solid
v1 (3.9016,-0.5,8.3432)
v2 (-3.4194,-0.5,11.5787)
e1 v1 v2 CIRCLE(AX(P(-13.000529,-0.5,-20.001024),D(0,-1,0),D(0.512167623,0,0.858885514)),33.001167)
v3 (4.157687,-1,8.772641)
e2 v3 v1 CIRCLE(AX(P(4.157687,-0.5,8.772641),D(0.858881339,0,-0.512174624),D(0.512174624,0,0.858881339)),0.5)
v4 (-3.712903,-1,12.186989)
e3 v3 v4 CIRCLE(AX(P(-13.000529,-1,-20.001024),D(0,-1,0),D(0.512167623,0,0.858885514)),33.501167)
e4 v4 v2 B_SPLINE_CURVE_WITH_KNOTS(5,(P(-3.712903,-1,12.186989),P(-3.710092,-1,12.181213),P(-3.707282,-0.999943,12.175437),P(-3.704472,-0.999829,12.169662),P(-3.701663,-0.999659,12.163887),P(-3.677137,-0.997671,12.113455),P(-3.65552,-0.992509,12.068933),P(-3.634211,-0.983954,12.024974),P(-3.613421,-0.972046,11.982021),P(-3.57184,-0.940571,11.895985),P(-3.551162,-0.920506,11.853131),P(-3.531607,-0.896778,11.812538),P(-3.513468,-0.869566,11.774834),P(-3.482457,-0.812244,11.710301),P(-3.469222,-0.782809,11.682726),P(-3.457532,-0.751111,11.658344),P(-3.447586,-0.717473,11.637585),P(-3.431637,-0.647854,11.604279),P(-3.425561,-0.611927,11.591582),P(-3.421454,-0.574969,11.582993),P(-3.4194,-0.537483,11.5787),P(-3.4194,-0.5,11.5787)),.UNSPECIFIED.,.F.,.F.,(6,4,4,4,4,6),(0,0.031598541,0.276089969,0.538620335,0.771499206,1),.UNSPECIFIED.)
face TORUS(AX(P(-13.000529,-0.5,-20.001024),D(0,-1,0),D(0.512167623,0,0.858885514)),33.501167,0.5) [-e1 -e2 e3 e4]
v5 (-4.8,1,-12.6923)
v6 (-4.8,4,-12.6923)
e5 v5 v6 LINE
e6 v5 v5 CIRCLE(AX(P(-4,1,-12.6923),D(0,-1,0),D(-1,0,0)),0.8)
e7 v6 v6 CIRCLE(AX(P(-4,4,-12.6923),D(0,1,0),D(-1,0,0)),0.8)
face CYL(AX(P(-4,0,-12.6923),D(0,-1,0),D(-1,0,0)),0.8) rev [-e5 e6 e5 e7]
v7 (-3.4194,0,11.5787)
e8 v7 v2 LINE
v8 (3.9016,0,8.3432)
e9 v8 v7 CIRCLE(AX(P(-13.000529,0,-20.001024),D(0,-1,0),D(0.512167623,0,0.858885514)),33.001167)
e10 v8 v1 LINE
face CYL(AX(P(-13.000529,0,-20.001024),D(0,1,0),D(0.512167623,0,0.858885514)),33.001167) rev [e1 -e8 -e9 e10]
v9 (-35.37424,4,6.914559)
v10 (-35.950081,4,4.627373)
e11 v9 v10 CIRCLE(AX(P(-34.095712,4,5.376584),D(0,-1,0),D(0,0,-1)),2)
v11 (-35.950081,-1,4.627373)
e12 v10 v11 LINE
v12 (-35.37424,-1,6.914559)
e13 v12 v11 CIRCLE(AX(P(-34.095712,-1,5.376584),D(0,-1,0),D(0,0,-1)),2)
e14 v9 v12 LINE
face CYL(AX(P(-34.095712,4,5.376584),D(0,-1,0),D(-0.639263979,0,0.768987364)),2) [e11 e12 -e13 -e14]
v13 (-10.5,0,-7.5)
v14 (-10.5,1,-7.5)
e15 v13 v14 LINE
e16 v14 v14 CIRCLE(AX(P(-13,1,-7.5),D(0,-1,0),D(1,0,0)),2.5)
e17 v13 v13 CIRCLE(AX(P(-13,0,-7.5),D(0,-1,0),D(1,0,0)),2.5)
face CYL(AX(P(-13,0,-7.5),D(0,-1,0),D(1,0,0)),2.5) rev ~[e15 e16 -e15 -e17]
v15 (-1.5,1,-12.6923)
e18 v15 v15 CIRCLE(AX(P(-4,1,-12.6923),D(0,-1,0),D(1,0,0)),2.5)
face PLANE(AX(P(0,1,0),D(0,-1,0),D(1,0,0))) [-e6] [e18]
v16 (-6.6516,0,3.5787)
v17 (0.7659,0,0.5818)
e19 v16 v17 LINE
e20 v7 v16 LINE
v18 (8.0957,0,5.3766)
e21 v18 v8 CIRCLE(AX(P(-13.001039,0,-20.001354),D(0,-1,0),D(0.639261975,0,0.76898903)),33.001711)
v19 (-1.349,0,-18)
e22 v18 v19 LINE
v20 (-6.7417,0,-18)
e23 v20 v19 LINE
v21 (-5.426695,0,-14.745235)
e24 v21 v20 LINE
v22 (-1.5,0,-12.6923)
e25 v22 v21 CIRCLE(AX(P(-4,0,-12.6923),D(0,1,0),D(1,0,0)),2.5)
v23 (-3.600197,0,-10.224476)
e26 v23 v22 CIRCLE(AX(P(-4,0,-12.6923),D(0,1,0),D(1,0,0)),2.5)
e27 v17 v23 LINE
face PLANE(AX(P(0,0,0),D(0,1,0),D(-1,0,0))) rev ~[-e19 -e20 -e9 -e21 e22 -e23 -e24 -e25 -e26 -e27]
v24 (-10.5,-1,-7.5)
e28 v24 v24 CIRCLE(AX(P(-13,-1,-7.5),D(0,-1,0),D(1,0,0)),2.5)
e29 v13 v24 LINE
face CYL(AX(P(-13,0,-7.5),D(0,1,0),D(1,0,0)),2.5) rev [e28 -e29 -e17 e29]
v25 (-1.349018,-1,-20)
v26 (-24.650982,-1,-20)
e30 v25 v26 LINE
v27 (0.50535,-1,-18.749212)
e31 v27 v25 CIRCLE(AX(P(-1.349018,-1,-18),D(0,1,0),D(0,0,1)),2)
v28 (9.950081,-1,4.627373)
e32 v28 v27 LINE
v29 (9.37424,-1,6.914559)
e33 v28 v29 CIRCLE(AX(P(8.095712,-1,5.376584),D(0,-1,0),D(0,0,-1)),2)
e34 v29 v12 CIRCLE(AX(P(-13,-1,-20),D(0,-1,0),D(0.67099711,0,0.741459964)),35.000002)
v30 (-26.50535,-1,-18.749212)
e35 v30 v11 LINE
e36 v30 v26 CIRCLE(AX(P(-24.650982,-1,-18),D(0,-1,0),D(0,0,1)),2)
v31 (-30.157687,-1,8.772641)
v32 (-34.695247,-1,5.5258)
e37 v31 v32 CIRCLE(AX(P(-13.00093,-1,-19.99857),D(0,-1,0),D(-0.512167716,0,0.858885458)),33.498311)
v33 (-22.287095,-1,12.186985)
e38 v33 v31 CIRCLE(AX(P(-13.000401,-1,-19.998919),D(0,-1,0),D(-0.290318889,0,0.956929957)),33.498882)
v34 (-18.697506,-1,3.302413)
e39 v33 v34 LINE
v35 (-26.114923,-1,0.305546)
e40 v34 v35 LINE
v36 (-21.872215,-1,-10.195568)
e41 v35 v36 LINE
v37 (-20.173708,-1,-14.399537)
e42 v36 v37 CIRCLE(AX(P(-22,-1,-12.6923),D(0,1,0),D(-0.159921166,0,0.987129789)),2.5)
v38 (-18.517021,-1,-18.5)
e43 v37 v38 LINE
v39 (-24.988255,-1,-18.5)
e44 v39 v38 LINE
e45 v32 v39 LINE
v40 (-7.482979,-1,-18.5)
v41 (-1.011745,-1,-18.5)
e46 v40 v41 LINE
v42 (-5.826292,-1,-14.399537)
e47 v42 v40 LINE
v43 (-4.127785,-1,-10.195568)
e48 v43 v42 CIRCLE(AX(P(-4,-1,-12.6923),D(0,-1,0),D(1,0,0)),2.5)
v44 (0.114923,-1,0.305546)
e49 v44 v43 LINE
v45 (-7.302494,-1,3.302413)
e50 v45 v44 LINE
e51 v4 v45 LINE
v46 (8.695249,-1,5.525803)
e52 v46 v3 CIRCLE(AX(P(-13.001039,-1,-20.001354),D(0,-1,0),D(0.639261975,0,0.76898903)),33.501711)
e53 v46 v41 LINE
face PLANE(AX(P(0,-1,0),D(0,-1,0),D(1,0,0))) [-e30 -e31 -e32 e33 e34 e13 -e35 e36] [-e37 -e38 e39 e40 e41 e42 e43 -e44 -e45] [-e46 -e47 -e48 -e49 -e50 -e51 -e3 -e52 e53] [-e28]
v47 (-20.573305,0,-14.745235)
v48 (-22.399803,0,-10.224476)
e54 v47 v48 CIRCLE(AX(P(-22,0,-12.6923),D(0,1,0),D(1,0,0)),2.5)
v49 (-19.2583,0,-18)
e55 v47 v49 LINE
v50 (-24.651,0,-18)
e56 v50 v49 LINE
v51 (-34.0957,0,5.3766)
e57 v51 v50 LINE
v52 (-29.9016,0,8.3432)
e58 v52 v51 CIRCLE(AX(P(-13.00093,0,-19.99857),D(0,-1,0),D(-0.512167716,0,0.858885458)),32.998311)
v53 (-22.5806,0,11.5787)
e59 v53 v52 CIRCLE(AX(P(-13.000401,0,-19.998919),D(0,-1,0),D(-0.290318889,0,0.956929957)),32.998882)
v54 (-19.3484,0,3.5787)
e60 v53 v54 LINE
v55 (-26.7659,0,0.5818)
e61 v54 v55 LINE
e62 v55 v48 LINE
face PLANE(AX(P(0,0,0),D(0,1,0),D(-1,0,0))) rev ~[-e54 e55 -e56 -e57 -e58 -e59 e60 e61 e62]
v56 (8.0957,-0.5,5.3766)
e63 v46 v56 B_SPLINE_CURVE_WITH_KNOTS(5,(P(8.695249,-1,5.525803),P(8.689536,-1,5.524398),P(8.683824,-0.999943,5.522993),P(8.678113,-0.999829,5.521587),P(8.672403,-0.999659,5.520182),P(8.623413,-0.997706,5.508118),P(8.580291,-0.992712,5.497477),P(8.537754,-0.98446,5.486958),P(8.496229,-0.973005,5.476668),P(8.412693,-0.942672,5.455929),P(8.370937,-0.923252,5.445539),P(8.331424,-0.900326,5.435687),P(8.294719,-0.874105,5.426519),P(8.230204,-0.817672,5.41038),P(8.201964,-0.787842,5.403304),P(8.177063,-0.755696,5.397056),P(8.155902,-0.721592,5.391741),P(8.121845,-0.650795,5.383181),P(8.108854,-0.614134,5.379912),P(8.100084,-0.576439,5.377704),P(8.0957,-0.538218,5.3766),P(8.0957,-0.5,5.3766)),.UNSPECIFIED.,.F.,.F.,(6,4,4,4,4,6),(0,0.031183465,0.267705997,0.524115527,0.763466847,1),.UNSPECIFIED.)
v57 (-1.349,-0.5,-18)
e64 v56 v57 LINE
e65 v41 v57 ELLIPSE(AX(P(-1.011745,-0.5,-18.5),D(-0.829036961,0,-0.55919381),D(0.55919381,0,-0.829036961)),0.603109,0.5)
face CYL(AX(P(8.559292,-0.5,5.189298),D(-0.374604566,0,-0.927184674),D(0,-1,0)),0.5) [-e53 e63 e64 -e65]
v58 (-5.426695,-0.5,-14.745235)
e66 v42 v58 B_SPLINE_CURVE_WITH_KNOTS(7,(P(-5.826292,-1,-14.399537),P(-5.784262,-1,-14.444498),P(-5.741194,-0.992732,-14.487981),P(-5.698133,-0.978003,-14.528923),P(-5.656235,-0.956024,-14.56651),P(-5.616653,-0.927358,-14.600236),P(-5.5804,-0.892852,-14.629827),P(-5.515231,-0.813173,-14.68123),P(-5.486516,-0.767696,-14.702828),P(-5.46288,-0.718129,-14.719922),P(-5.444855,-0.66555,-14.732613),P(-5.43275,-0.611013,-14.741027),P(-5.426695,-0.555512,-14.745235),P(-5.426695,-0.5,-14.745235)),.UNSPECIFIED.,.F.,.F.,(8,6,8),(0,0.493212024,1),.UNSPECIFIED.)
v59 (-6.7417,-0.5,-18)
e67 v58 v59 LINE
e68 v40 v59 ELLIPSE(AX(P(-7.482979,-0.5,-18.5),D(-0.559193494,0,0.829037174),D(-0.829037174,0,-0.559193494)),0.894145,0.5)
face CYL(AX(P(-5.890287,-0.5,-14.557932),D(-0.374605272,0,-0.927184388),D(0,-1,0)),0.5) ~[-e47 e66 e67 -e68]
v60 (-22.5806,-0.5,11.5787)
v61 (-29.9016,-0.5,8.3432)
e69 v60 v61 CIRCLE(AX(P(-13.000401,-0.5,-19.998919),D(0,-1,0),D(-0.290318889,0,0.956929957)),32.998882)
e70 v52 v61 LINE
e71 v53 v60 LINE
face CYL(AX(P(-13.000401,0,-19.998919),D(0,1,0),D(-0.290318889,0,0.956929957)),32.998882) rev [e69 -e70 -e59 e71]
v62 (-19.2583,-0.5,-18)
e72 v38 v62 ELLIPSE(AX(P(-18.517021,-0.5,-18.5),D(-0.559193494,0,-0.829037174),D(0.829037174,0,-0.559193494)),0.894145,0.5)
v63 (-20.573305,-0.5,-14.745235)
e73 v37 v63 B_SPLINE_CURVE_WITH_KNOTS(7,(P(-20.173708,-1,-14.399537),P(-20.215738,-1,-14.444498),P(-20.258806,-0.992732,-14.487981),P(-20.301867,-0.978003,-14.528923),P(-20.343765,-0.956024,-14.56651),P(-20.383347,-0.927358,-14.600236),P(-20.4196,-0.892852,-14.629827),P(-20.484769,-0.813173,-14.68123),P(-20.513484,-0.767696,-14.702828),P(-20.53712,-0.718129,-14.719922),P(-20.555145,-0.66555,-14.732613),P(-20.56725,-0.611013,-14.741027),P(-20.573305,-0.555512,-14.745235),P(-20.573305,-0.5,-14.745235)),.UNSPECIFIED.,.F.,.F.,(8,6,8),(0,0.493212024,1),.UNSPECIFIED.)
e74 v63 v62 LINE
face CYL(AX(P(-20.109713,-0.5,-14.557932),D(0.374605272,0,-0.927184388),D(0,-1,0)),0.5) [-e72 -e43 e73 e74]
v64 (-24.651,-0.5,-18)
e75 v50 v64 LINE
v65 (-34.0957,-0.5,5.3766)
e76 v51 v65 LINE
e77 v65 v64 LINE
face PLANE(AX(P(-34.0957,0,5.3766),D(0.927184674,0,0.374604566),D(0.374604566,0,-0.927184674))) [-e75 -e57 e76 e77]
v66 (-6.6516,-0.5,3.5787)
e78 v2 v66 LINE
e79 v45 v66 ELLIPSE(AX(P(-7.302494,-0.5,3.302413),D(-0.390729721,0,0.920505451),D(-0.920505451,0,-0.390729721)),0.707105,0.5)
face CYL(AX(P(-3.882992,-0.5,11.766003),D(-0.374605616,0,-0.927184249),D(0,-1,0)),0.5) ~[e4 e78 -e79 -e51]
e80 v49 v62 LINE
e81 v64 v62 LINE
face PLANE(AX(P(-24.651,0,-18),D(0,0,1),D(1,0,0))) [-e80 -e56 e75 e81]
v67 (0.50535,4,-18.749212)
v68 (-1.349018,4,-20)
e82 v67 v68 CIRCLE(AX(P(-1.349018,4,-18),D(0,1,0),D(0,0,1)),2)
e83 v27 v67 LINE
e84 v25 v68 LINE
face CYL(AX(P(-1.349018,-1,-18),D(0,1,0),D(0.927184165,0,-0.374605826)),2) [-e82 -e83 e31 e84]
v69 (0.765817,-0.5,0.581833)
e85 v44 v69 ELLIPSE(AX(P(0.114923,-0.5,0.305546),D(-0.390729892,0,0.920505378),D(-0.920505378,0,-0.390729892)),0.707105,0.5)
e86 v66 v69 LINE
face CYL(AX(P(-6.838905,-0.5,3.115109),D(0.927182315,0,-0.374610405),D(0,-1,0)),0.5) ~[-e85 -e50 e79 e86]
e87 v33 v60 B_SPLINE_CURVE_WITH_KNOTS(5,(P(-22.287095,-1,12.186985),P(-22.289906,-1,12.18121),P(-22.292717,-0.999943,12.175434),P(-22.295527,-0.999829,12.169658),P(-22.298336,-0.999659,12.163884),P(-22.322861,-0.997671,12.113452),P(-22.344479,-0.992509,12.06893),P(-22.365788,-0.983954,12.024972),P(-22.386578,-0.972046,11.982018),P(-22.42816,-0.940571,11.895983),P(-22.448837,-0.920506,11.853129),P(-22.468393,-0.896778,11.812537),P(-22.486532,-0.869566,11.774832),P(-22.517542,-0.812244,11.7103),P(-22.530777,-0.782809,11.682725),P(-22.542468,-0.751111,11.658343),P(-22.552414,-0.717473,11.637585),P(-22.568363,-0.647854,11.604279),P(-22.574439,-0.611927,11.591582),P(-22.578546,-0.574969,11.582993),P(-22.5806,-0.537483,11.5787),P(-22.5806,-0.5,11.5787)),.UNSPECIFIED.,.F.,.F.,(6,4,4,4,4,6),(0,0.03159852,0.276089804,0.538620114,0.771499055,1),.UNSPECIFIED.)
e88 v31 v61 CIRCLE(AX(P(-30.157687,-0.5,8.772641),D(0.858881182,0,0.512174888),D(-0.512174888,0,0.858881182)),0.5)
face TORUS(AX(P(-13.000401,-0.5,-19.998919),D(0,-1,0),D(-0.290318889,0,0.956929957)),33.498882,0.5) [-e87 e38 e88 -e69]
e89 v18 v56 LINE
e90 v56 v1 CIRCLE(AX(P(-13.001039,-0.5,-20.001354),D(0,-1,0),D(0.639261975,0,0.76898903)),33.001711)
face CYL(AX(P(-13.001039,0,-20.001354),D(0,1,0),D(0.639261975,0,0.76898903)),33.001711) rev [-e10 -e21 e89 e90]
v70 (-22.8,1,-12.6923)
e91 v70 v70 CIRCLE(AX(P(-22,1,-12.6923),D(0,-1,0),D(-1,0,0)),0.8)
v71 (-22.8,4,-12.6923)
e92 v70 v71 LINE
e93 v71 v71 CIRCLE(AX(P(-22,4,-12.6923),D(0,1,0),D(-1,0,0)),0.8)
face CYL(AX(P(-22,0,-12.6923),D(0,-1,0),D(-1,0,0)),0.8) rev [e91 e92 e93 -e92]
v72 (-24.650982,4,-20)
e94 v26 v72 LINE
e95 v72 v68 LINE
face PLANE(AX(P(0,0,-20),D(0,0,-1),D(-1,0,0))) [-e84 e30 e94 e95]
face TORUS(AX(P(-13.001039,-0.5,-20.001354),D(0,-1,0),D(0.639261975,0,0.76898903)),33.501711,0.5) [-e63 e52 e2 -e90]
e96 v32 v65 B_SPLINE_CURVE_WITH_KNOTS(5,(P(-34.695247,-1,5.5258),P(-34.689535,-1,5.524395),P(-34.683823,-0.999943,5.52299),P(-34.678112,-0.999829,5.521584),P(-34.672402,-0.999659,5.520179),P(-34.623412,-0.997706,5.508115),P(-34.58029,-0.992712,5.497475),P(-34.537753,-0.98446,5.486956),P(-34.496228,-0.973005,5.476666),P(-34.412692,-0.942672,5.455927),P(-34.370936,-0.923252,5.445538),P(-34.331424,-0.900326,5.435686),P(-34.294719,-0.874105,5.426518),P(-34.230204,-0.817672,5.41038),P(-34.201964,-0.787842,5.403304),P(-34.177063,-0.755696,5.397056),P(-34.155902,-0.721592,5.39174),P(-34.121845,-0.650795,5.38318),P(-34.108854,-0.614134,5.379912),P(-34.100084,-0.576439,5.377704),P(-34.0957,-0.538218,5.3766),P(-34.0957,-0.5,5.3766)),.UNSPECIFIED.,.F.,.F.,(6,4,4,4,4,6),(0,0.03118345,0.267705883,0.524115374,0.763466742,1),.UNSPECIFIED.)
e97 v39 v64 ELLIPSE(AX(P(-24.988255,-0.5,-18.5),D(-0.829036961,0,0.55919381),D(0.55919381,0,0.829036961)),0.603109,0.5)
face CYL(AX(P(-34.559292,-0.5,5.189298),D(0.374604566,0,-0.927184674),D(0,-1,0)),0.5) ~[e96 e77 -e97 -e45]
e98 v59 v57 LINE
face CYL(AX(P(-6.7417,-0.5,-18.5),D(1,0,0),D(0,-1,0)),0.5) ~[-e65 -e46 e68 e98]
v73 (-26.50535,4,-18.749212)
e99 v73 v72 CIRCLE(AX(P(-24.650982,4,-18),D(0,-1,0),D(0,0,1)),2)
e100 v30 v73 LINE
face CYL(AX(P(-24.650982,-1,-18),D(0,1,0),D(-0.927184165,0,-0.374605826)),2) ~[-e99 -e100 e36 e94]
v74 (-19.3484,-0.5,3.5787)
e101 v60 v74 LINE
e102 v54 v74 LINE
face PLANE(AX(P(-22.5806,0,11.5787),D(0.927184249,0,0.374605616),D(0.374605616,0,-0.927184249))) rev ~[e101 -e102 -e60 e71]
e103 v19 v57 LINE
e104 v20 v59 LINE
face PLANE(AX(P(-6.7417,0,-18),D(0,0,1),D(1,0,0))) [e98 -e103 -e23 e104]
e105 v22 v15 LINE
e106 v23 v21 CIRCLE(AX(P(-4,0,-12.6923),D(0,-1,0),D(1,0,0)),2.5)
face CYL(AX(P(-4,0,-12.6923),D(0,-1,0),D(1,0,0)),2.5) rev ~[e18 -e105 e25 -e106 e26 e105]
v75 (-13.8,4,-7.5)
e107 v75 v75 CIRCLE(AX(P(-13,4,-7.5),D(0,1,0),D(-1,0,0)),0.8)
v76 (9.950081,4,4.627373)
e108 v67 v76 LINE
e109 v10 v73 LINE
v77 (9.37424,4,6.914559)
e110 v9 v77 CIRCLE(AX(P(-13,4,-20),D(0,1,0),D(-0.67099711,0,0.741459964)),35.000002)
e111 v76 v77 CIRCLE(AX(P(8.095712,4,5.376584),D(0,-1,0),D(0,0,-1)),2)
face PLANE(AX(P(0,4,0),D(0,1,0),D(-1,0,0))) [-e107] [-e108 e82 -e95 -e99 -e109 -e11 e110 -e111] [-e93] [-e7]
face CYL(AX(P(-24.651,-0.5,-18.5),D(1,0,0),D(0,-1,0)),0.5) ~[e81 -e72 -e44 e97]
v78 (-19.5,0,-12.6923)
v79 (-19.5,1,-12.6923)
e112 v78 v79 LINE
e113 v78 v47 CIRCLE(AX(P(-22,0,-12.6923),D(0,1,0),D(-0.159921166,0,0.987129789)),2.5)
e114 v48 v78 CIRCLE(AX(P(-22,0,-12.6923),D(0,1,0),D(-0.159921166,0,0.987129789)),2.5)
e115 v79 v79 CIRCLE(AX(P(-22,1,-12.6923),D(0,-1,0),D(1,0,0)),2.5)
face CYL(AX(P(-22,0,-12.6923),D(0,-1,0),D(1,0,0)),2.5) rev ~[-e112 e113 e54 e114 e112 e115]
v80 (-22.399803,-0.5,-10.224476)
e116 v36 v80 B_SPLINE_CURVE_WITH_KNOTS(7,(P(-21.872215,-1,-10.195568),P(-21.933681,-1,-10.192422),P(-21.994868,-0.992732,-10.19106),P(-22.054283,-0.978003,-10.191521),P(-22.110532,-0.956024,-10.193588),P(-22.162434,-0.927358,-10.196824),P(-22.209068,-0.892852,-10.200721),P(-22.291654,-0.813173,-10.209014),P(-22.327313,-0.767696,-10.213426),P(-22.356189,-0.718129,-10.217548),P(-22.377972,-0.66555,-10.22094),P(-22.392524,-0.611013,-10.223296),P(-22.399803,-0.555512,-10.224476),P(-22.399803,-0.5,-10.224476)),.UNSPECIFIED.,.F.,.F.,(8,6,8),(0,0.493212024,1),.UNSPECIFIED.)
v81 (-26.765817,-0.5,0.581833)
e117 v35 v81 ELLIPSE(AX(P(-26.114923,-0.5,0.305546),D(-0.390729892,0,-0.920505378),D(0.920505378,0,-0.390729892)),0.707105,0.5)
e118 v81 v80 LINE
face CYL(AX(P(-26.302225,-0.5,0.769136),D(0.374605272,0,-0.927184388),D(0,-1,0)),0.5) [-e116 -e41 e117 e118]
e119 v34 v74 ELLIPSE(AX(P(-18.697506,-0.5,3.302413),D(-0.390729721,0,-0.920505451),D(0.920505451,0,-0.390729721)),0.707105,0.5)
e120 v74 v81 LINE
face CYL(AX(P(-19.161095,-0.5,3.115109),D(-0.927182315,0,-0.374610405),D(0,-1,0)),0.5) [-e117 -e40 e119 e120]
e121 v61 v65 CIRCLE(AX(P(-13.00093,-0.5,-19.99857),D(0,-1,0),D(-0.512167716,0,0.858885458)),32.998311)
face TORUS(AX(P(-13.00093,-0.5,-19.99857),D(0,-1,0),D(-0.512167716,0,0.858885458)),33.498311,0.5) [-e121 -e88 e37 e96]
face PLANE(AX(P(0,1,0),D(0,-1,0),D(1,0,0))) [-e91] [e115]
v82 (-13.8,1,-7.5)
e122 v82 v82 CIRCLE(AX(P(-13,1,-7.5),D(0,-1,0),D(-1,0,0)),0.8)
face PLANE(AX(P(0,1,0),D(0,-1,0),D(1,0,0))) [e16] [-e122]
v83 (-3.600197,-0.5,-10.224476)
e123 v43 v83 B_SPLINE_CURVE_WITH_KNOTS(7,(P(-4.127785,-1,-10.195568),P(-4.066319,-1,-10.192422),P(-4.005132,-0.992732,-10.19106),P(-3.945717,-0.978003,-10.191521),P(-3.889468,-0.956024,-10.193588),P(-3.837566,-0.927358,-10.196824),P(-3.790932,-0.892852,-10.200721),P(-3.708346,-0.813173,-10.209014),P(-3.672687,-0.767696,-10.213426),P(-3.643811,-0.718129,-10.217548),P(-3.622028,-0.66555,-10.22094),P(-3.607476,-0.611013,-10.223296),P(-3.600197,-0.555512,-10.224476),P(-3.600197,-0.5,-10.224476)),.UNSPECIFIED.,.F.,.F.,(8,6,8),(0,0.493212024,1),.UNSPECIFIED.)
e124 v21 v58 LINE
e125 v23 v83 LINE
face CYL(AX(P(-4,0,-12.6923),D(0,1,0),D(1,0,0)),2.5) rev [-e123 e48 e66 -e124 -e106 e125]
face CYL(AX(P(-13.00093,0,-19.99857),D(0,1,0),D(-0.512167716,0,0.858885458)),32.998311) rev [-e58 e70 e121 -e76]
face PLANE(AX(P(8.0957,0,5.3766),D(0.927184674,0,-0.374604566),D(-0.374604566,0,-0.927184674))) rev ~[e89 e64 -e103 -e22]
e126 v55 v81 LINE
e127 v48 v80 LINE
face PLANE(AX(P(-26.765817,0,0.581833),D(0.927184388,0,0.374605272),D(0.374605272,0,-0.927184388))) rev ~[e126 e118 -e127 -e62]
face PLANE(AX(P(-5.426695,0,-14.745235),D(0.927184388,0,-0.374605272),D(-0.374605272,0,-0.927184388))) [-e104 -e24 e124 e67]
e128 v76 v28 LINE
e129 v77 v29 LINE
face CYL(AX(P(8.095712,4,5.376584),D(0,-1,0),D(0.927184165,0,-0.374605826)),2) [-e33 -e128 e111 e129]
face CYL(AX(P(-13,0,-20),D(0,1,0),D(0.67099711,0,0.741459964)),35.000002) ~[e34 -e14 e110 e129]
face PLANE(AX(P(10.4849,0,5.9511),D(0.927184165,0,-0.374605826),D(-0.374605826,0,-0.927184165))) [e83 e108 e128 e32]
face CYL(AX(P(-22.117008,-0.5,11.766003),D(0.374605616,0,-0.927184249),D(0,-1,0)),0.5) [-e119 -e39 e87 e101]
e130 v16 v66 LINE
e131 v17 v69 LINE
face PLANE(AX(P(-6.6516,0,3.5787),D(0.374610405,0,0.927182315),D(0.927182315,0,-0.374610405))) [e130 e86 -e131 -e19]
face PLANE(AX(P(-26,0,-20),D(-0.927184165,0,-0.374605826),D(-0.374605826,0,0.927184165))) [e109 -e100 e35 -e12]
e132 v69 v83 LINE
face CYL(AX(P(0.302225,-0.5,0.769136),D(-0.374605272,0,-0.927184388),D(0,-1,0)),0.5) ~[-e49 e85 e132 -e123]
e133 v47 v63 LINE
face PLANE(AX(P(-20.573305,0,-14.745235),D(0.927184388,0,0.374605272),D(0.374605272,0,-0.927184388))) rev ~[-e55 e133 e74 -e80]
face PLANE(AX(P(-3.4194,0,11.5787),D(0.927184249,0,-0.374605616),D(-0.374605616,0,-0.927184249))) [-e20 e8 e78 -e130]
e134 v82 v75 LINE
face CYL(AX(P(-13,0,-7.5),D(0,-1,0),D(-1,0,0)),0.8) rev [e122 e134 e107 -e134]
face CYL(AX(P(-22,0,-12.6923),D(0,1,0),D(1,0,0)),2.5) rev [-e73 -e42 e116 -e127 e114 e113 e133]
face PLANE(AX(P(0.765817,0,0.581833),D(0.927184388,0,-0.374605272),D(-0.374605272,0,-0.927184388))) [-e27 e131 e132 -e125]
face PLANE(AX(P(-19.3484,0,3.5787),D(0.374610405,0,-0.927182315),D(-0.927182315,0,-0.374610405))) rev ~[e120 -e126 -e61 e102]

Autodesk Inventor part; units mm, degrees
ref_plane "YZ Plane" through (0, 0, 0) normal (1, 0, 0) x (0, 1, 0)
ref_plane "XZ Plane" through (0, 0, 0) normal (0, 1, 0) x (-1, 0, 0)
ref_plane "XY Plane" through (0, 0, 0) normal (0, 0, 1) x (1, 0, 0)
sketch "スケッチ1" plane through (0, 0, 0) normal (0, 1, 0) x (-1, 0, 0)
  line L0 (26, 0) -> (0, 0)
  line L1 (0, 0) -> (0, -15)
  line L2 (0, -15) -> (26, -15)
  line L3 (26, -15) -> (26, 0)
  line L4 (36.4849, 5.9511) -> (26, -20)
  line L5 (26, -20) -> (0, -20)
  line L6 (0, -20) -> (-10.4849, 5.9511)
  arc A0 (36.4849, 5.9511) -> (-10.4849, 5.9511) centre (13, -20) ccw
  line L7 (0, 0) -> (26, -15)
  line L8 (0, -15) -> (26, 0)
  line L9 (4, -2.3077) -> (22, -2.3077)
  line L10 (22, -2.3077) -> (22, -12.6923)
  line L11 (22, -12.6923) -> (4, -12.6923)
  line L12 (4, -12.6923) -> (4, -2.3077)
  circle A1 centre (4, -2.3077) radius 0.8
  circle A2 centre (4, -12.6923) radius 0.8
  circle A3 centre (22, -2.3077) radius 0.8
  circle A4 centre (22, -12.6923) radius 0.8
  circle A5 centre (13, -7.5) radius 0.8
  point P0 (22.6929, -13.0921)
  point P1 (21.2, -12.6923)
  dimension "d0" = 26
  dimension "d1" = 15
  dimension "d4" = 22
  dimension "d5" = 22
  dimension "d6" = 5
  dimension "d7" = 35
  dimension "d23" = 4
  dimension "d24" = 1.6
  dimension "d25" = 1.6
  dimension "d26" = 1.6
  dimension "d27" = 1.6
  dimension "d32" = 1.6
extrude "押し出し1" add sketch "スケッチ1" along normal blind 4 contours L8 A3 L9 A1 L7 L0 | L3 L7 A4 L10 A3 L8 | L7 A1 L12 A2 L8 L1 | L2 L8 A2 L11 A4 L7 | A3 L10 L8 | L8 L9 A3 | A1 L9 L7 | L7 L12 A1 | L10 A3 L8 | L8 A3 L9 | A3 L8 A5 L7 A1 L9 | L9 A1 L7 | L7 A1 L12 | A1 L7 A5 L8 A2 L12 | L11 A2 L8 A5 L7 A4 | A3 L10 A4 L7 A5 L8 | L4 L5 L6 A0
sketch "スケッチ2" plane through (0, 0, 0) normal (0, -1, 0) x (1, 0, 0)
  arc A0 (-29.9016, 8.3432) -> (-34.0957, 5.3766) centre (-13, -20) ccw
  arc A1 (10.4849, 5.9511) -> (-36.4849, 5.9511) centre (-13, -20) ccw projected
  arc A2 (8.0957, 5.3766) -> (3.9016, 8.3432) centre (-13, -20) ccw
  line L0 (8.0957, 5.3766) -> (-1.349, -18)
  line L1 (-29.9016, 8.3432) -> (-19.2583, -18)
  line L2 (-34.0957, 5.3766) -> (-24.651, -18)
  line L3 (10.4849, 5.9511) -> (0, -20) projected
  line L4 (-26, -20) -> (-36.4849, 5.9511) projected
  line L5 (3.9016, 8.3432) -> (-6.7417, -18)
  line L6 (-24.651, -18) -> (-19.2583, -18)
  line L7 (0, -20) -> (-26, -20) projected
  line L8 (-6.7417, -18) -> (-1.349, -18)
  circle A3 centre (-4, -12.6923) radius 0.8 projected
  circle A4 centre (-22, -12.6923) radius 0.8 projected
  circle A5 centre (-4, -12.6923) radius 2.5
  circle A6 centre (-22, -12.6923) radius 2.5
  circle A7 centre (-13, -7.5) radius 0.8 projected
  circle A8 centre (-13, -7.5) radius 2.5
  arc A9 (-22.5806, 11.5787) -> (-29.9016, 8.3432) centre (-13, -20) ccw
  arc A10 (3.9016, 8.3432) -> (-3.4194, 11.5787) centre (-13, -20) ccw
  line L9 (-22.5806, 11.5787) -> (-19.3484, 3.5787)
  line L10 (-19.3484, 3.5787) -> (-26.7659, 0.5818)
  line L11 (-3.4194, 11.5787) -> (-6.6516, 3.5787)
  line L12 (-6.6516, 3.5787) -> (0.7659, 0.5818)
  point P0 (-22.3998, -10.2245)
  point P1 (-20.5733, -14.7452)
  point P2 (-5.4267, -14.7452)
  point P3 (-3.6002, -10.2245)
  dimension "d10" = 2
  dimension "d11" = 2
  dimension "d14" = 2
  dimension "d15" = 2
  dimension "d16" = 5
  dimension "d17" = 2
  dimension "d18" = 2
  dimension "d19" = 5
  dimension "d29" = 5
  dimension "d30" = 5
  dimension "d33" = 5
  dimension "d50" = 8
  dimension "d51" = 8
  dimension "d52" = 8
  dimension "d53" = 8
extrude "押し出し2" add sketch "スケッチ2" along normal blind 1 contours L3 L7 L4 A1
fillet "フィレット1" radius 0.5 14 edges at (3.3734, -1, -6.3117) (2.6485, -1, 9.0538) (-6.0842, -1, -16.3726) (-1.4172, -1, -4.8213) (-4.0454, -1, -18) (-19.9158, -1, -16.3726) (-24.5828, -1, -4.8213) (-21.9546, -1, -18) (-29.3734, -1, -6.3117) (-28.6485, -1, 9.0538) (-5.0355, -1, 7.5787) (-2.9429, -1, 2.0802) (-20.9645, -1, 7.5787) (-23.0571, -1, 2.0802)
extrude "押し出し3" cut sketch "スケッチ2" against normal blind 1 contours A6 L1 A4 | L1 A4 A6 | A4 L1 | L1 A4 | A5 L5 A3 | L5 A3 A5 | A3 L5 | L5 A3 | A8
fillet "フィレット2" radius 2 4 edges at (10.4849, 1.5, 5.9511) (0, 1.5, -20) (-26, 1.5, -20) (-36.4849, 1.5, 5.9511)
equation "\"d5\" = d4"
properties part number "toe_sole_front"
